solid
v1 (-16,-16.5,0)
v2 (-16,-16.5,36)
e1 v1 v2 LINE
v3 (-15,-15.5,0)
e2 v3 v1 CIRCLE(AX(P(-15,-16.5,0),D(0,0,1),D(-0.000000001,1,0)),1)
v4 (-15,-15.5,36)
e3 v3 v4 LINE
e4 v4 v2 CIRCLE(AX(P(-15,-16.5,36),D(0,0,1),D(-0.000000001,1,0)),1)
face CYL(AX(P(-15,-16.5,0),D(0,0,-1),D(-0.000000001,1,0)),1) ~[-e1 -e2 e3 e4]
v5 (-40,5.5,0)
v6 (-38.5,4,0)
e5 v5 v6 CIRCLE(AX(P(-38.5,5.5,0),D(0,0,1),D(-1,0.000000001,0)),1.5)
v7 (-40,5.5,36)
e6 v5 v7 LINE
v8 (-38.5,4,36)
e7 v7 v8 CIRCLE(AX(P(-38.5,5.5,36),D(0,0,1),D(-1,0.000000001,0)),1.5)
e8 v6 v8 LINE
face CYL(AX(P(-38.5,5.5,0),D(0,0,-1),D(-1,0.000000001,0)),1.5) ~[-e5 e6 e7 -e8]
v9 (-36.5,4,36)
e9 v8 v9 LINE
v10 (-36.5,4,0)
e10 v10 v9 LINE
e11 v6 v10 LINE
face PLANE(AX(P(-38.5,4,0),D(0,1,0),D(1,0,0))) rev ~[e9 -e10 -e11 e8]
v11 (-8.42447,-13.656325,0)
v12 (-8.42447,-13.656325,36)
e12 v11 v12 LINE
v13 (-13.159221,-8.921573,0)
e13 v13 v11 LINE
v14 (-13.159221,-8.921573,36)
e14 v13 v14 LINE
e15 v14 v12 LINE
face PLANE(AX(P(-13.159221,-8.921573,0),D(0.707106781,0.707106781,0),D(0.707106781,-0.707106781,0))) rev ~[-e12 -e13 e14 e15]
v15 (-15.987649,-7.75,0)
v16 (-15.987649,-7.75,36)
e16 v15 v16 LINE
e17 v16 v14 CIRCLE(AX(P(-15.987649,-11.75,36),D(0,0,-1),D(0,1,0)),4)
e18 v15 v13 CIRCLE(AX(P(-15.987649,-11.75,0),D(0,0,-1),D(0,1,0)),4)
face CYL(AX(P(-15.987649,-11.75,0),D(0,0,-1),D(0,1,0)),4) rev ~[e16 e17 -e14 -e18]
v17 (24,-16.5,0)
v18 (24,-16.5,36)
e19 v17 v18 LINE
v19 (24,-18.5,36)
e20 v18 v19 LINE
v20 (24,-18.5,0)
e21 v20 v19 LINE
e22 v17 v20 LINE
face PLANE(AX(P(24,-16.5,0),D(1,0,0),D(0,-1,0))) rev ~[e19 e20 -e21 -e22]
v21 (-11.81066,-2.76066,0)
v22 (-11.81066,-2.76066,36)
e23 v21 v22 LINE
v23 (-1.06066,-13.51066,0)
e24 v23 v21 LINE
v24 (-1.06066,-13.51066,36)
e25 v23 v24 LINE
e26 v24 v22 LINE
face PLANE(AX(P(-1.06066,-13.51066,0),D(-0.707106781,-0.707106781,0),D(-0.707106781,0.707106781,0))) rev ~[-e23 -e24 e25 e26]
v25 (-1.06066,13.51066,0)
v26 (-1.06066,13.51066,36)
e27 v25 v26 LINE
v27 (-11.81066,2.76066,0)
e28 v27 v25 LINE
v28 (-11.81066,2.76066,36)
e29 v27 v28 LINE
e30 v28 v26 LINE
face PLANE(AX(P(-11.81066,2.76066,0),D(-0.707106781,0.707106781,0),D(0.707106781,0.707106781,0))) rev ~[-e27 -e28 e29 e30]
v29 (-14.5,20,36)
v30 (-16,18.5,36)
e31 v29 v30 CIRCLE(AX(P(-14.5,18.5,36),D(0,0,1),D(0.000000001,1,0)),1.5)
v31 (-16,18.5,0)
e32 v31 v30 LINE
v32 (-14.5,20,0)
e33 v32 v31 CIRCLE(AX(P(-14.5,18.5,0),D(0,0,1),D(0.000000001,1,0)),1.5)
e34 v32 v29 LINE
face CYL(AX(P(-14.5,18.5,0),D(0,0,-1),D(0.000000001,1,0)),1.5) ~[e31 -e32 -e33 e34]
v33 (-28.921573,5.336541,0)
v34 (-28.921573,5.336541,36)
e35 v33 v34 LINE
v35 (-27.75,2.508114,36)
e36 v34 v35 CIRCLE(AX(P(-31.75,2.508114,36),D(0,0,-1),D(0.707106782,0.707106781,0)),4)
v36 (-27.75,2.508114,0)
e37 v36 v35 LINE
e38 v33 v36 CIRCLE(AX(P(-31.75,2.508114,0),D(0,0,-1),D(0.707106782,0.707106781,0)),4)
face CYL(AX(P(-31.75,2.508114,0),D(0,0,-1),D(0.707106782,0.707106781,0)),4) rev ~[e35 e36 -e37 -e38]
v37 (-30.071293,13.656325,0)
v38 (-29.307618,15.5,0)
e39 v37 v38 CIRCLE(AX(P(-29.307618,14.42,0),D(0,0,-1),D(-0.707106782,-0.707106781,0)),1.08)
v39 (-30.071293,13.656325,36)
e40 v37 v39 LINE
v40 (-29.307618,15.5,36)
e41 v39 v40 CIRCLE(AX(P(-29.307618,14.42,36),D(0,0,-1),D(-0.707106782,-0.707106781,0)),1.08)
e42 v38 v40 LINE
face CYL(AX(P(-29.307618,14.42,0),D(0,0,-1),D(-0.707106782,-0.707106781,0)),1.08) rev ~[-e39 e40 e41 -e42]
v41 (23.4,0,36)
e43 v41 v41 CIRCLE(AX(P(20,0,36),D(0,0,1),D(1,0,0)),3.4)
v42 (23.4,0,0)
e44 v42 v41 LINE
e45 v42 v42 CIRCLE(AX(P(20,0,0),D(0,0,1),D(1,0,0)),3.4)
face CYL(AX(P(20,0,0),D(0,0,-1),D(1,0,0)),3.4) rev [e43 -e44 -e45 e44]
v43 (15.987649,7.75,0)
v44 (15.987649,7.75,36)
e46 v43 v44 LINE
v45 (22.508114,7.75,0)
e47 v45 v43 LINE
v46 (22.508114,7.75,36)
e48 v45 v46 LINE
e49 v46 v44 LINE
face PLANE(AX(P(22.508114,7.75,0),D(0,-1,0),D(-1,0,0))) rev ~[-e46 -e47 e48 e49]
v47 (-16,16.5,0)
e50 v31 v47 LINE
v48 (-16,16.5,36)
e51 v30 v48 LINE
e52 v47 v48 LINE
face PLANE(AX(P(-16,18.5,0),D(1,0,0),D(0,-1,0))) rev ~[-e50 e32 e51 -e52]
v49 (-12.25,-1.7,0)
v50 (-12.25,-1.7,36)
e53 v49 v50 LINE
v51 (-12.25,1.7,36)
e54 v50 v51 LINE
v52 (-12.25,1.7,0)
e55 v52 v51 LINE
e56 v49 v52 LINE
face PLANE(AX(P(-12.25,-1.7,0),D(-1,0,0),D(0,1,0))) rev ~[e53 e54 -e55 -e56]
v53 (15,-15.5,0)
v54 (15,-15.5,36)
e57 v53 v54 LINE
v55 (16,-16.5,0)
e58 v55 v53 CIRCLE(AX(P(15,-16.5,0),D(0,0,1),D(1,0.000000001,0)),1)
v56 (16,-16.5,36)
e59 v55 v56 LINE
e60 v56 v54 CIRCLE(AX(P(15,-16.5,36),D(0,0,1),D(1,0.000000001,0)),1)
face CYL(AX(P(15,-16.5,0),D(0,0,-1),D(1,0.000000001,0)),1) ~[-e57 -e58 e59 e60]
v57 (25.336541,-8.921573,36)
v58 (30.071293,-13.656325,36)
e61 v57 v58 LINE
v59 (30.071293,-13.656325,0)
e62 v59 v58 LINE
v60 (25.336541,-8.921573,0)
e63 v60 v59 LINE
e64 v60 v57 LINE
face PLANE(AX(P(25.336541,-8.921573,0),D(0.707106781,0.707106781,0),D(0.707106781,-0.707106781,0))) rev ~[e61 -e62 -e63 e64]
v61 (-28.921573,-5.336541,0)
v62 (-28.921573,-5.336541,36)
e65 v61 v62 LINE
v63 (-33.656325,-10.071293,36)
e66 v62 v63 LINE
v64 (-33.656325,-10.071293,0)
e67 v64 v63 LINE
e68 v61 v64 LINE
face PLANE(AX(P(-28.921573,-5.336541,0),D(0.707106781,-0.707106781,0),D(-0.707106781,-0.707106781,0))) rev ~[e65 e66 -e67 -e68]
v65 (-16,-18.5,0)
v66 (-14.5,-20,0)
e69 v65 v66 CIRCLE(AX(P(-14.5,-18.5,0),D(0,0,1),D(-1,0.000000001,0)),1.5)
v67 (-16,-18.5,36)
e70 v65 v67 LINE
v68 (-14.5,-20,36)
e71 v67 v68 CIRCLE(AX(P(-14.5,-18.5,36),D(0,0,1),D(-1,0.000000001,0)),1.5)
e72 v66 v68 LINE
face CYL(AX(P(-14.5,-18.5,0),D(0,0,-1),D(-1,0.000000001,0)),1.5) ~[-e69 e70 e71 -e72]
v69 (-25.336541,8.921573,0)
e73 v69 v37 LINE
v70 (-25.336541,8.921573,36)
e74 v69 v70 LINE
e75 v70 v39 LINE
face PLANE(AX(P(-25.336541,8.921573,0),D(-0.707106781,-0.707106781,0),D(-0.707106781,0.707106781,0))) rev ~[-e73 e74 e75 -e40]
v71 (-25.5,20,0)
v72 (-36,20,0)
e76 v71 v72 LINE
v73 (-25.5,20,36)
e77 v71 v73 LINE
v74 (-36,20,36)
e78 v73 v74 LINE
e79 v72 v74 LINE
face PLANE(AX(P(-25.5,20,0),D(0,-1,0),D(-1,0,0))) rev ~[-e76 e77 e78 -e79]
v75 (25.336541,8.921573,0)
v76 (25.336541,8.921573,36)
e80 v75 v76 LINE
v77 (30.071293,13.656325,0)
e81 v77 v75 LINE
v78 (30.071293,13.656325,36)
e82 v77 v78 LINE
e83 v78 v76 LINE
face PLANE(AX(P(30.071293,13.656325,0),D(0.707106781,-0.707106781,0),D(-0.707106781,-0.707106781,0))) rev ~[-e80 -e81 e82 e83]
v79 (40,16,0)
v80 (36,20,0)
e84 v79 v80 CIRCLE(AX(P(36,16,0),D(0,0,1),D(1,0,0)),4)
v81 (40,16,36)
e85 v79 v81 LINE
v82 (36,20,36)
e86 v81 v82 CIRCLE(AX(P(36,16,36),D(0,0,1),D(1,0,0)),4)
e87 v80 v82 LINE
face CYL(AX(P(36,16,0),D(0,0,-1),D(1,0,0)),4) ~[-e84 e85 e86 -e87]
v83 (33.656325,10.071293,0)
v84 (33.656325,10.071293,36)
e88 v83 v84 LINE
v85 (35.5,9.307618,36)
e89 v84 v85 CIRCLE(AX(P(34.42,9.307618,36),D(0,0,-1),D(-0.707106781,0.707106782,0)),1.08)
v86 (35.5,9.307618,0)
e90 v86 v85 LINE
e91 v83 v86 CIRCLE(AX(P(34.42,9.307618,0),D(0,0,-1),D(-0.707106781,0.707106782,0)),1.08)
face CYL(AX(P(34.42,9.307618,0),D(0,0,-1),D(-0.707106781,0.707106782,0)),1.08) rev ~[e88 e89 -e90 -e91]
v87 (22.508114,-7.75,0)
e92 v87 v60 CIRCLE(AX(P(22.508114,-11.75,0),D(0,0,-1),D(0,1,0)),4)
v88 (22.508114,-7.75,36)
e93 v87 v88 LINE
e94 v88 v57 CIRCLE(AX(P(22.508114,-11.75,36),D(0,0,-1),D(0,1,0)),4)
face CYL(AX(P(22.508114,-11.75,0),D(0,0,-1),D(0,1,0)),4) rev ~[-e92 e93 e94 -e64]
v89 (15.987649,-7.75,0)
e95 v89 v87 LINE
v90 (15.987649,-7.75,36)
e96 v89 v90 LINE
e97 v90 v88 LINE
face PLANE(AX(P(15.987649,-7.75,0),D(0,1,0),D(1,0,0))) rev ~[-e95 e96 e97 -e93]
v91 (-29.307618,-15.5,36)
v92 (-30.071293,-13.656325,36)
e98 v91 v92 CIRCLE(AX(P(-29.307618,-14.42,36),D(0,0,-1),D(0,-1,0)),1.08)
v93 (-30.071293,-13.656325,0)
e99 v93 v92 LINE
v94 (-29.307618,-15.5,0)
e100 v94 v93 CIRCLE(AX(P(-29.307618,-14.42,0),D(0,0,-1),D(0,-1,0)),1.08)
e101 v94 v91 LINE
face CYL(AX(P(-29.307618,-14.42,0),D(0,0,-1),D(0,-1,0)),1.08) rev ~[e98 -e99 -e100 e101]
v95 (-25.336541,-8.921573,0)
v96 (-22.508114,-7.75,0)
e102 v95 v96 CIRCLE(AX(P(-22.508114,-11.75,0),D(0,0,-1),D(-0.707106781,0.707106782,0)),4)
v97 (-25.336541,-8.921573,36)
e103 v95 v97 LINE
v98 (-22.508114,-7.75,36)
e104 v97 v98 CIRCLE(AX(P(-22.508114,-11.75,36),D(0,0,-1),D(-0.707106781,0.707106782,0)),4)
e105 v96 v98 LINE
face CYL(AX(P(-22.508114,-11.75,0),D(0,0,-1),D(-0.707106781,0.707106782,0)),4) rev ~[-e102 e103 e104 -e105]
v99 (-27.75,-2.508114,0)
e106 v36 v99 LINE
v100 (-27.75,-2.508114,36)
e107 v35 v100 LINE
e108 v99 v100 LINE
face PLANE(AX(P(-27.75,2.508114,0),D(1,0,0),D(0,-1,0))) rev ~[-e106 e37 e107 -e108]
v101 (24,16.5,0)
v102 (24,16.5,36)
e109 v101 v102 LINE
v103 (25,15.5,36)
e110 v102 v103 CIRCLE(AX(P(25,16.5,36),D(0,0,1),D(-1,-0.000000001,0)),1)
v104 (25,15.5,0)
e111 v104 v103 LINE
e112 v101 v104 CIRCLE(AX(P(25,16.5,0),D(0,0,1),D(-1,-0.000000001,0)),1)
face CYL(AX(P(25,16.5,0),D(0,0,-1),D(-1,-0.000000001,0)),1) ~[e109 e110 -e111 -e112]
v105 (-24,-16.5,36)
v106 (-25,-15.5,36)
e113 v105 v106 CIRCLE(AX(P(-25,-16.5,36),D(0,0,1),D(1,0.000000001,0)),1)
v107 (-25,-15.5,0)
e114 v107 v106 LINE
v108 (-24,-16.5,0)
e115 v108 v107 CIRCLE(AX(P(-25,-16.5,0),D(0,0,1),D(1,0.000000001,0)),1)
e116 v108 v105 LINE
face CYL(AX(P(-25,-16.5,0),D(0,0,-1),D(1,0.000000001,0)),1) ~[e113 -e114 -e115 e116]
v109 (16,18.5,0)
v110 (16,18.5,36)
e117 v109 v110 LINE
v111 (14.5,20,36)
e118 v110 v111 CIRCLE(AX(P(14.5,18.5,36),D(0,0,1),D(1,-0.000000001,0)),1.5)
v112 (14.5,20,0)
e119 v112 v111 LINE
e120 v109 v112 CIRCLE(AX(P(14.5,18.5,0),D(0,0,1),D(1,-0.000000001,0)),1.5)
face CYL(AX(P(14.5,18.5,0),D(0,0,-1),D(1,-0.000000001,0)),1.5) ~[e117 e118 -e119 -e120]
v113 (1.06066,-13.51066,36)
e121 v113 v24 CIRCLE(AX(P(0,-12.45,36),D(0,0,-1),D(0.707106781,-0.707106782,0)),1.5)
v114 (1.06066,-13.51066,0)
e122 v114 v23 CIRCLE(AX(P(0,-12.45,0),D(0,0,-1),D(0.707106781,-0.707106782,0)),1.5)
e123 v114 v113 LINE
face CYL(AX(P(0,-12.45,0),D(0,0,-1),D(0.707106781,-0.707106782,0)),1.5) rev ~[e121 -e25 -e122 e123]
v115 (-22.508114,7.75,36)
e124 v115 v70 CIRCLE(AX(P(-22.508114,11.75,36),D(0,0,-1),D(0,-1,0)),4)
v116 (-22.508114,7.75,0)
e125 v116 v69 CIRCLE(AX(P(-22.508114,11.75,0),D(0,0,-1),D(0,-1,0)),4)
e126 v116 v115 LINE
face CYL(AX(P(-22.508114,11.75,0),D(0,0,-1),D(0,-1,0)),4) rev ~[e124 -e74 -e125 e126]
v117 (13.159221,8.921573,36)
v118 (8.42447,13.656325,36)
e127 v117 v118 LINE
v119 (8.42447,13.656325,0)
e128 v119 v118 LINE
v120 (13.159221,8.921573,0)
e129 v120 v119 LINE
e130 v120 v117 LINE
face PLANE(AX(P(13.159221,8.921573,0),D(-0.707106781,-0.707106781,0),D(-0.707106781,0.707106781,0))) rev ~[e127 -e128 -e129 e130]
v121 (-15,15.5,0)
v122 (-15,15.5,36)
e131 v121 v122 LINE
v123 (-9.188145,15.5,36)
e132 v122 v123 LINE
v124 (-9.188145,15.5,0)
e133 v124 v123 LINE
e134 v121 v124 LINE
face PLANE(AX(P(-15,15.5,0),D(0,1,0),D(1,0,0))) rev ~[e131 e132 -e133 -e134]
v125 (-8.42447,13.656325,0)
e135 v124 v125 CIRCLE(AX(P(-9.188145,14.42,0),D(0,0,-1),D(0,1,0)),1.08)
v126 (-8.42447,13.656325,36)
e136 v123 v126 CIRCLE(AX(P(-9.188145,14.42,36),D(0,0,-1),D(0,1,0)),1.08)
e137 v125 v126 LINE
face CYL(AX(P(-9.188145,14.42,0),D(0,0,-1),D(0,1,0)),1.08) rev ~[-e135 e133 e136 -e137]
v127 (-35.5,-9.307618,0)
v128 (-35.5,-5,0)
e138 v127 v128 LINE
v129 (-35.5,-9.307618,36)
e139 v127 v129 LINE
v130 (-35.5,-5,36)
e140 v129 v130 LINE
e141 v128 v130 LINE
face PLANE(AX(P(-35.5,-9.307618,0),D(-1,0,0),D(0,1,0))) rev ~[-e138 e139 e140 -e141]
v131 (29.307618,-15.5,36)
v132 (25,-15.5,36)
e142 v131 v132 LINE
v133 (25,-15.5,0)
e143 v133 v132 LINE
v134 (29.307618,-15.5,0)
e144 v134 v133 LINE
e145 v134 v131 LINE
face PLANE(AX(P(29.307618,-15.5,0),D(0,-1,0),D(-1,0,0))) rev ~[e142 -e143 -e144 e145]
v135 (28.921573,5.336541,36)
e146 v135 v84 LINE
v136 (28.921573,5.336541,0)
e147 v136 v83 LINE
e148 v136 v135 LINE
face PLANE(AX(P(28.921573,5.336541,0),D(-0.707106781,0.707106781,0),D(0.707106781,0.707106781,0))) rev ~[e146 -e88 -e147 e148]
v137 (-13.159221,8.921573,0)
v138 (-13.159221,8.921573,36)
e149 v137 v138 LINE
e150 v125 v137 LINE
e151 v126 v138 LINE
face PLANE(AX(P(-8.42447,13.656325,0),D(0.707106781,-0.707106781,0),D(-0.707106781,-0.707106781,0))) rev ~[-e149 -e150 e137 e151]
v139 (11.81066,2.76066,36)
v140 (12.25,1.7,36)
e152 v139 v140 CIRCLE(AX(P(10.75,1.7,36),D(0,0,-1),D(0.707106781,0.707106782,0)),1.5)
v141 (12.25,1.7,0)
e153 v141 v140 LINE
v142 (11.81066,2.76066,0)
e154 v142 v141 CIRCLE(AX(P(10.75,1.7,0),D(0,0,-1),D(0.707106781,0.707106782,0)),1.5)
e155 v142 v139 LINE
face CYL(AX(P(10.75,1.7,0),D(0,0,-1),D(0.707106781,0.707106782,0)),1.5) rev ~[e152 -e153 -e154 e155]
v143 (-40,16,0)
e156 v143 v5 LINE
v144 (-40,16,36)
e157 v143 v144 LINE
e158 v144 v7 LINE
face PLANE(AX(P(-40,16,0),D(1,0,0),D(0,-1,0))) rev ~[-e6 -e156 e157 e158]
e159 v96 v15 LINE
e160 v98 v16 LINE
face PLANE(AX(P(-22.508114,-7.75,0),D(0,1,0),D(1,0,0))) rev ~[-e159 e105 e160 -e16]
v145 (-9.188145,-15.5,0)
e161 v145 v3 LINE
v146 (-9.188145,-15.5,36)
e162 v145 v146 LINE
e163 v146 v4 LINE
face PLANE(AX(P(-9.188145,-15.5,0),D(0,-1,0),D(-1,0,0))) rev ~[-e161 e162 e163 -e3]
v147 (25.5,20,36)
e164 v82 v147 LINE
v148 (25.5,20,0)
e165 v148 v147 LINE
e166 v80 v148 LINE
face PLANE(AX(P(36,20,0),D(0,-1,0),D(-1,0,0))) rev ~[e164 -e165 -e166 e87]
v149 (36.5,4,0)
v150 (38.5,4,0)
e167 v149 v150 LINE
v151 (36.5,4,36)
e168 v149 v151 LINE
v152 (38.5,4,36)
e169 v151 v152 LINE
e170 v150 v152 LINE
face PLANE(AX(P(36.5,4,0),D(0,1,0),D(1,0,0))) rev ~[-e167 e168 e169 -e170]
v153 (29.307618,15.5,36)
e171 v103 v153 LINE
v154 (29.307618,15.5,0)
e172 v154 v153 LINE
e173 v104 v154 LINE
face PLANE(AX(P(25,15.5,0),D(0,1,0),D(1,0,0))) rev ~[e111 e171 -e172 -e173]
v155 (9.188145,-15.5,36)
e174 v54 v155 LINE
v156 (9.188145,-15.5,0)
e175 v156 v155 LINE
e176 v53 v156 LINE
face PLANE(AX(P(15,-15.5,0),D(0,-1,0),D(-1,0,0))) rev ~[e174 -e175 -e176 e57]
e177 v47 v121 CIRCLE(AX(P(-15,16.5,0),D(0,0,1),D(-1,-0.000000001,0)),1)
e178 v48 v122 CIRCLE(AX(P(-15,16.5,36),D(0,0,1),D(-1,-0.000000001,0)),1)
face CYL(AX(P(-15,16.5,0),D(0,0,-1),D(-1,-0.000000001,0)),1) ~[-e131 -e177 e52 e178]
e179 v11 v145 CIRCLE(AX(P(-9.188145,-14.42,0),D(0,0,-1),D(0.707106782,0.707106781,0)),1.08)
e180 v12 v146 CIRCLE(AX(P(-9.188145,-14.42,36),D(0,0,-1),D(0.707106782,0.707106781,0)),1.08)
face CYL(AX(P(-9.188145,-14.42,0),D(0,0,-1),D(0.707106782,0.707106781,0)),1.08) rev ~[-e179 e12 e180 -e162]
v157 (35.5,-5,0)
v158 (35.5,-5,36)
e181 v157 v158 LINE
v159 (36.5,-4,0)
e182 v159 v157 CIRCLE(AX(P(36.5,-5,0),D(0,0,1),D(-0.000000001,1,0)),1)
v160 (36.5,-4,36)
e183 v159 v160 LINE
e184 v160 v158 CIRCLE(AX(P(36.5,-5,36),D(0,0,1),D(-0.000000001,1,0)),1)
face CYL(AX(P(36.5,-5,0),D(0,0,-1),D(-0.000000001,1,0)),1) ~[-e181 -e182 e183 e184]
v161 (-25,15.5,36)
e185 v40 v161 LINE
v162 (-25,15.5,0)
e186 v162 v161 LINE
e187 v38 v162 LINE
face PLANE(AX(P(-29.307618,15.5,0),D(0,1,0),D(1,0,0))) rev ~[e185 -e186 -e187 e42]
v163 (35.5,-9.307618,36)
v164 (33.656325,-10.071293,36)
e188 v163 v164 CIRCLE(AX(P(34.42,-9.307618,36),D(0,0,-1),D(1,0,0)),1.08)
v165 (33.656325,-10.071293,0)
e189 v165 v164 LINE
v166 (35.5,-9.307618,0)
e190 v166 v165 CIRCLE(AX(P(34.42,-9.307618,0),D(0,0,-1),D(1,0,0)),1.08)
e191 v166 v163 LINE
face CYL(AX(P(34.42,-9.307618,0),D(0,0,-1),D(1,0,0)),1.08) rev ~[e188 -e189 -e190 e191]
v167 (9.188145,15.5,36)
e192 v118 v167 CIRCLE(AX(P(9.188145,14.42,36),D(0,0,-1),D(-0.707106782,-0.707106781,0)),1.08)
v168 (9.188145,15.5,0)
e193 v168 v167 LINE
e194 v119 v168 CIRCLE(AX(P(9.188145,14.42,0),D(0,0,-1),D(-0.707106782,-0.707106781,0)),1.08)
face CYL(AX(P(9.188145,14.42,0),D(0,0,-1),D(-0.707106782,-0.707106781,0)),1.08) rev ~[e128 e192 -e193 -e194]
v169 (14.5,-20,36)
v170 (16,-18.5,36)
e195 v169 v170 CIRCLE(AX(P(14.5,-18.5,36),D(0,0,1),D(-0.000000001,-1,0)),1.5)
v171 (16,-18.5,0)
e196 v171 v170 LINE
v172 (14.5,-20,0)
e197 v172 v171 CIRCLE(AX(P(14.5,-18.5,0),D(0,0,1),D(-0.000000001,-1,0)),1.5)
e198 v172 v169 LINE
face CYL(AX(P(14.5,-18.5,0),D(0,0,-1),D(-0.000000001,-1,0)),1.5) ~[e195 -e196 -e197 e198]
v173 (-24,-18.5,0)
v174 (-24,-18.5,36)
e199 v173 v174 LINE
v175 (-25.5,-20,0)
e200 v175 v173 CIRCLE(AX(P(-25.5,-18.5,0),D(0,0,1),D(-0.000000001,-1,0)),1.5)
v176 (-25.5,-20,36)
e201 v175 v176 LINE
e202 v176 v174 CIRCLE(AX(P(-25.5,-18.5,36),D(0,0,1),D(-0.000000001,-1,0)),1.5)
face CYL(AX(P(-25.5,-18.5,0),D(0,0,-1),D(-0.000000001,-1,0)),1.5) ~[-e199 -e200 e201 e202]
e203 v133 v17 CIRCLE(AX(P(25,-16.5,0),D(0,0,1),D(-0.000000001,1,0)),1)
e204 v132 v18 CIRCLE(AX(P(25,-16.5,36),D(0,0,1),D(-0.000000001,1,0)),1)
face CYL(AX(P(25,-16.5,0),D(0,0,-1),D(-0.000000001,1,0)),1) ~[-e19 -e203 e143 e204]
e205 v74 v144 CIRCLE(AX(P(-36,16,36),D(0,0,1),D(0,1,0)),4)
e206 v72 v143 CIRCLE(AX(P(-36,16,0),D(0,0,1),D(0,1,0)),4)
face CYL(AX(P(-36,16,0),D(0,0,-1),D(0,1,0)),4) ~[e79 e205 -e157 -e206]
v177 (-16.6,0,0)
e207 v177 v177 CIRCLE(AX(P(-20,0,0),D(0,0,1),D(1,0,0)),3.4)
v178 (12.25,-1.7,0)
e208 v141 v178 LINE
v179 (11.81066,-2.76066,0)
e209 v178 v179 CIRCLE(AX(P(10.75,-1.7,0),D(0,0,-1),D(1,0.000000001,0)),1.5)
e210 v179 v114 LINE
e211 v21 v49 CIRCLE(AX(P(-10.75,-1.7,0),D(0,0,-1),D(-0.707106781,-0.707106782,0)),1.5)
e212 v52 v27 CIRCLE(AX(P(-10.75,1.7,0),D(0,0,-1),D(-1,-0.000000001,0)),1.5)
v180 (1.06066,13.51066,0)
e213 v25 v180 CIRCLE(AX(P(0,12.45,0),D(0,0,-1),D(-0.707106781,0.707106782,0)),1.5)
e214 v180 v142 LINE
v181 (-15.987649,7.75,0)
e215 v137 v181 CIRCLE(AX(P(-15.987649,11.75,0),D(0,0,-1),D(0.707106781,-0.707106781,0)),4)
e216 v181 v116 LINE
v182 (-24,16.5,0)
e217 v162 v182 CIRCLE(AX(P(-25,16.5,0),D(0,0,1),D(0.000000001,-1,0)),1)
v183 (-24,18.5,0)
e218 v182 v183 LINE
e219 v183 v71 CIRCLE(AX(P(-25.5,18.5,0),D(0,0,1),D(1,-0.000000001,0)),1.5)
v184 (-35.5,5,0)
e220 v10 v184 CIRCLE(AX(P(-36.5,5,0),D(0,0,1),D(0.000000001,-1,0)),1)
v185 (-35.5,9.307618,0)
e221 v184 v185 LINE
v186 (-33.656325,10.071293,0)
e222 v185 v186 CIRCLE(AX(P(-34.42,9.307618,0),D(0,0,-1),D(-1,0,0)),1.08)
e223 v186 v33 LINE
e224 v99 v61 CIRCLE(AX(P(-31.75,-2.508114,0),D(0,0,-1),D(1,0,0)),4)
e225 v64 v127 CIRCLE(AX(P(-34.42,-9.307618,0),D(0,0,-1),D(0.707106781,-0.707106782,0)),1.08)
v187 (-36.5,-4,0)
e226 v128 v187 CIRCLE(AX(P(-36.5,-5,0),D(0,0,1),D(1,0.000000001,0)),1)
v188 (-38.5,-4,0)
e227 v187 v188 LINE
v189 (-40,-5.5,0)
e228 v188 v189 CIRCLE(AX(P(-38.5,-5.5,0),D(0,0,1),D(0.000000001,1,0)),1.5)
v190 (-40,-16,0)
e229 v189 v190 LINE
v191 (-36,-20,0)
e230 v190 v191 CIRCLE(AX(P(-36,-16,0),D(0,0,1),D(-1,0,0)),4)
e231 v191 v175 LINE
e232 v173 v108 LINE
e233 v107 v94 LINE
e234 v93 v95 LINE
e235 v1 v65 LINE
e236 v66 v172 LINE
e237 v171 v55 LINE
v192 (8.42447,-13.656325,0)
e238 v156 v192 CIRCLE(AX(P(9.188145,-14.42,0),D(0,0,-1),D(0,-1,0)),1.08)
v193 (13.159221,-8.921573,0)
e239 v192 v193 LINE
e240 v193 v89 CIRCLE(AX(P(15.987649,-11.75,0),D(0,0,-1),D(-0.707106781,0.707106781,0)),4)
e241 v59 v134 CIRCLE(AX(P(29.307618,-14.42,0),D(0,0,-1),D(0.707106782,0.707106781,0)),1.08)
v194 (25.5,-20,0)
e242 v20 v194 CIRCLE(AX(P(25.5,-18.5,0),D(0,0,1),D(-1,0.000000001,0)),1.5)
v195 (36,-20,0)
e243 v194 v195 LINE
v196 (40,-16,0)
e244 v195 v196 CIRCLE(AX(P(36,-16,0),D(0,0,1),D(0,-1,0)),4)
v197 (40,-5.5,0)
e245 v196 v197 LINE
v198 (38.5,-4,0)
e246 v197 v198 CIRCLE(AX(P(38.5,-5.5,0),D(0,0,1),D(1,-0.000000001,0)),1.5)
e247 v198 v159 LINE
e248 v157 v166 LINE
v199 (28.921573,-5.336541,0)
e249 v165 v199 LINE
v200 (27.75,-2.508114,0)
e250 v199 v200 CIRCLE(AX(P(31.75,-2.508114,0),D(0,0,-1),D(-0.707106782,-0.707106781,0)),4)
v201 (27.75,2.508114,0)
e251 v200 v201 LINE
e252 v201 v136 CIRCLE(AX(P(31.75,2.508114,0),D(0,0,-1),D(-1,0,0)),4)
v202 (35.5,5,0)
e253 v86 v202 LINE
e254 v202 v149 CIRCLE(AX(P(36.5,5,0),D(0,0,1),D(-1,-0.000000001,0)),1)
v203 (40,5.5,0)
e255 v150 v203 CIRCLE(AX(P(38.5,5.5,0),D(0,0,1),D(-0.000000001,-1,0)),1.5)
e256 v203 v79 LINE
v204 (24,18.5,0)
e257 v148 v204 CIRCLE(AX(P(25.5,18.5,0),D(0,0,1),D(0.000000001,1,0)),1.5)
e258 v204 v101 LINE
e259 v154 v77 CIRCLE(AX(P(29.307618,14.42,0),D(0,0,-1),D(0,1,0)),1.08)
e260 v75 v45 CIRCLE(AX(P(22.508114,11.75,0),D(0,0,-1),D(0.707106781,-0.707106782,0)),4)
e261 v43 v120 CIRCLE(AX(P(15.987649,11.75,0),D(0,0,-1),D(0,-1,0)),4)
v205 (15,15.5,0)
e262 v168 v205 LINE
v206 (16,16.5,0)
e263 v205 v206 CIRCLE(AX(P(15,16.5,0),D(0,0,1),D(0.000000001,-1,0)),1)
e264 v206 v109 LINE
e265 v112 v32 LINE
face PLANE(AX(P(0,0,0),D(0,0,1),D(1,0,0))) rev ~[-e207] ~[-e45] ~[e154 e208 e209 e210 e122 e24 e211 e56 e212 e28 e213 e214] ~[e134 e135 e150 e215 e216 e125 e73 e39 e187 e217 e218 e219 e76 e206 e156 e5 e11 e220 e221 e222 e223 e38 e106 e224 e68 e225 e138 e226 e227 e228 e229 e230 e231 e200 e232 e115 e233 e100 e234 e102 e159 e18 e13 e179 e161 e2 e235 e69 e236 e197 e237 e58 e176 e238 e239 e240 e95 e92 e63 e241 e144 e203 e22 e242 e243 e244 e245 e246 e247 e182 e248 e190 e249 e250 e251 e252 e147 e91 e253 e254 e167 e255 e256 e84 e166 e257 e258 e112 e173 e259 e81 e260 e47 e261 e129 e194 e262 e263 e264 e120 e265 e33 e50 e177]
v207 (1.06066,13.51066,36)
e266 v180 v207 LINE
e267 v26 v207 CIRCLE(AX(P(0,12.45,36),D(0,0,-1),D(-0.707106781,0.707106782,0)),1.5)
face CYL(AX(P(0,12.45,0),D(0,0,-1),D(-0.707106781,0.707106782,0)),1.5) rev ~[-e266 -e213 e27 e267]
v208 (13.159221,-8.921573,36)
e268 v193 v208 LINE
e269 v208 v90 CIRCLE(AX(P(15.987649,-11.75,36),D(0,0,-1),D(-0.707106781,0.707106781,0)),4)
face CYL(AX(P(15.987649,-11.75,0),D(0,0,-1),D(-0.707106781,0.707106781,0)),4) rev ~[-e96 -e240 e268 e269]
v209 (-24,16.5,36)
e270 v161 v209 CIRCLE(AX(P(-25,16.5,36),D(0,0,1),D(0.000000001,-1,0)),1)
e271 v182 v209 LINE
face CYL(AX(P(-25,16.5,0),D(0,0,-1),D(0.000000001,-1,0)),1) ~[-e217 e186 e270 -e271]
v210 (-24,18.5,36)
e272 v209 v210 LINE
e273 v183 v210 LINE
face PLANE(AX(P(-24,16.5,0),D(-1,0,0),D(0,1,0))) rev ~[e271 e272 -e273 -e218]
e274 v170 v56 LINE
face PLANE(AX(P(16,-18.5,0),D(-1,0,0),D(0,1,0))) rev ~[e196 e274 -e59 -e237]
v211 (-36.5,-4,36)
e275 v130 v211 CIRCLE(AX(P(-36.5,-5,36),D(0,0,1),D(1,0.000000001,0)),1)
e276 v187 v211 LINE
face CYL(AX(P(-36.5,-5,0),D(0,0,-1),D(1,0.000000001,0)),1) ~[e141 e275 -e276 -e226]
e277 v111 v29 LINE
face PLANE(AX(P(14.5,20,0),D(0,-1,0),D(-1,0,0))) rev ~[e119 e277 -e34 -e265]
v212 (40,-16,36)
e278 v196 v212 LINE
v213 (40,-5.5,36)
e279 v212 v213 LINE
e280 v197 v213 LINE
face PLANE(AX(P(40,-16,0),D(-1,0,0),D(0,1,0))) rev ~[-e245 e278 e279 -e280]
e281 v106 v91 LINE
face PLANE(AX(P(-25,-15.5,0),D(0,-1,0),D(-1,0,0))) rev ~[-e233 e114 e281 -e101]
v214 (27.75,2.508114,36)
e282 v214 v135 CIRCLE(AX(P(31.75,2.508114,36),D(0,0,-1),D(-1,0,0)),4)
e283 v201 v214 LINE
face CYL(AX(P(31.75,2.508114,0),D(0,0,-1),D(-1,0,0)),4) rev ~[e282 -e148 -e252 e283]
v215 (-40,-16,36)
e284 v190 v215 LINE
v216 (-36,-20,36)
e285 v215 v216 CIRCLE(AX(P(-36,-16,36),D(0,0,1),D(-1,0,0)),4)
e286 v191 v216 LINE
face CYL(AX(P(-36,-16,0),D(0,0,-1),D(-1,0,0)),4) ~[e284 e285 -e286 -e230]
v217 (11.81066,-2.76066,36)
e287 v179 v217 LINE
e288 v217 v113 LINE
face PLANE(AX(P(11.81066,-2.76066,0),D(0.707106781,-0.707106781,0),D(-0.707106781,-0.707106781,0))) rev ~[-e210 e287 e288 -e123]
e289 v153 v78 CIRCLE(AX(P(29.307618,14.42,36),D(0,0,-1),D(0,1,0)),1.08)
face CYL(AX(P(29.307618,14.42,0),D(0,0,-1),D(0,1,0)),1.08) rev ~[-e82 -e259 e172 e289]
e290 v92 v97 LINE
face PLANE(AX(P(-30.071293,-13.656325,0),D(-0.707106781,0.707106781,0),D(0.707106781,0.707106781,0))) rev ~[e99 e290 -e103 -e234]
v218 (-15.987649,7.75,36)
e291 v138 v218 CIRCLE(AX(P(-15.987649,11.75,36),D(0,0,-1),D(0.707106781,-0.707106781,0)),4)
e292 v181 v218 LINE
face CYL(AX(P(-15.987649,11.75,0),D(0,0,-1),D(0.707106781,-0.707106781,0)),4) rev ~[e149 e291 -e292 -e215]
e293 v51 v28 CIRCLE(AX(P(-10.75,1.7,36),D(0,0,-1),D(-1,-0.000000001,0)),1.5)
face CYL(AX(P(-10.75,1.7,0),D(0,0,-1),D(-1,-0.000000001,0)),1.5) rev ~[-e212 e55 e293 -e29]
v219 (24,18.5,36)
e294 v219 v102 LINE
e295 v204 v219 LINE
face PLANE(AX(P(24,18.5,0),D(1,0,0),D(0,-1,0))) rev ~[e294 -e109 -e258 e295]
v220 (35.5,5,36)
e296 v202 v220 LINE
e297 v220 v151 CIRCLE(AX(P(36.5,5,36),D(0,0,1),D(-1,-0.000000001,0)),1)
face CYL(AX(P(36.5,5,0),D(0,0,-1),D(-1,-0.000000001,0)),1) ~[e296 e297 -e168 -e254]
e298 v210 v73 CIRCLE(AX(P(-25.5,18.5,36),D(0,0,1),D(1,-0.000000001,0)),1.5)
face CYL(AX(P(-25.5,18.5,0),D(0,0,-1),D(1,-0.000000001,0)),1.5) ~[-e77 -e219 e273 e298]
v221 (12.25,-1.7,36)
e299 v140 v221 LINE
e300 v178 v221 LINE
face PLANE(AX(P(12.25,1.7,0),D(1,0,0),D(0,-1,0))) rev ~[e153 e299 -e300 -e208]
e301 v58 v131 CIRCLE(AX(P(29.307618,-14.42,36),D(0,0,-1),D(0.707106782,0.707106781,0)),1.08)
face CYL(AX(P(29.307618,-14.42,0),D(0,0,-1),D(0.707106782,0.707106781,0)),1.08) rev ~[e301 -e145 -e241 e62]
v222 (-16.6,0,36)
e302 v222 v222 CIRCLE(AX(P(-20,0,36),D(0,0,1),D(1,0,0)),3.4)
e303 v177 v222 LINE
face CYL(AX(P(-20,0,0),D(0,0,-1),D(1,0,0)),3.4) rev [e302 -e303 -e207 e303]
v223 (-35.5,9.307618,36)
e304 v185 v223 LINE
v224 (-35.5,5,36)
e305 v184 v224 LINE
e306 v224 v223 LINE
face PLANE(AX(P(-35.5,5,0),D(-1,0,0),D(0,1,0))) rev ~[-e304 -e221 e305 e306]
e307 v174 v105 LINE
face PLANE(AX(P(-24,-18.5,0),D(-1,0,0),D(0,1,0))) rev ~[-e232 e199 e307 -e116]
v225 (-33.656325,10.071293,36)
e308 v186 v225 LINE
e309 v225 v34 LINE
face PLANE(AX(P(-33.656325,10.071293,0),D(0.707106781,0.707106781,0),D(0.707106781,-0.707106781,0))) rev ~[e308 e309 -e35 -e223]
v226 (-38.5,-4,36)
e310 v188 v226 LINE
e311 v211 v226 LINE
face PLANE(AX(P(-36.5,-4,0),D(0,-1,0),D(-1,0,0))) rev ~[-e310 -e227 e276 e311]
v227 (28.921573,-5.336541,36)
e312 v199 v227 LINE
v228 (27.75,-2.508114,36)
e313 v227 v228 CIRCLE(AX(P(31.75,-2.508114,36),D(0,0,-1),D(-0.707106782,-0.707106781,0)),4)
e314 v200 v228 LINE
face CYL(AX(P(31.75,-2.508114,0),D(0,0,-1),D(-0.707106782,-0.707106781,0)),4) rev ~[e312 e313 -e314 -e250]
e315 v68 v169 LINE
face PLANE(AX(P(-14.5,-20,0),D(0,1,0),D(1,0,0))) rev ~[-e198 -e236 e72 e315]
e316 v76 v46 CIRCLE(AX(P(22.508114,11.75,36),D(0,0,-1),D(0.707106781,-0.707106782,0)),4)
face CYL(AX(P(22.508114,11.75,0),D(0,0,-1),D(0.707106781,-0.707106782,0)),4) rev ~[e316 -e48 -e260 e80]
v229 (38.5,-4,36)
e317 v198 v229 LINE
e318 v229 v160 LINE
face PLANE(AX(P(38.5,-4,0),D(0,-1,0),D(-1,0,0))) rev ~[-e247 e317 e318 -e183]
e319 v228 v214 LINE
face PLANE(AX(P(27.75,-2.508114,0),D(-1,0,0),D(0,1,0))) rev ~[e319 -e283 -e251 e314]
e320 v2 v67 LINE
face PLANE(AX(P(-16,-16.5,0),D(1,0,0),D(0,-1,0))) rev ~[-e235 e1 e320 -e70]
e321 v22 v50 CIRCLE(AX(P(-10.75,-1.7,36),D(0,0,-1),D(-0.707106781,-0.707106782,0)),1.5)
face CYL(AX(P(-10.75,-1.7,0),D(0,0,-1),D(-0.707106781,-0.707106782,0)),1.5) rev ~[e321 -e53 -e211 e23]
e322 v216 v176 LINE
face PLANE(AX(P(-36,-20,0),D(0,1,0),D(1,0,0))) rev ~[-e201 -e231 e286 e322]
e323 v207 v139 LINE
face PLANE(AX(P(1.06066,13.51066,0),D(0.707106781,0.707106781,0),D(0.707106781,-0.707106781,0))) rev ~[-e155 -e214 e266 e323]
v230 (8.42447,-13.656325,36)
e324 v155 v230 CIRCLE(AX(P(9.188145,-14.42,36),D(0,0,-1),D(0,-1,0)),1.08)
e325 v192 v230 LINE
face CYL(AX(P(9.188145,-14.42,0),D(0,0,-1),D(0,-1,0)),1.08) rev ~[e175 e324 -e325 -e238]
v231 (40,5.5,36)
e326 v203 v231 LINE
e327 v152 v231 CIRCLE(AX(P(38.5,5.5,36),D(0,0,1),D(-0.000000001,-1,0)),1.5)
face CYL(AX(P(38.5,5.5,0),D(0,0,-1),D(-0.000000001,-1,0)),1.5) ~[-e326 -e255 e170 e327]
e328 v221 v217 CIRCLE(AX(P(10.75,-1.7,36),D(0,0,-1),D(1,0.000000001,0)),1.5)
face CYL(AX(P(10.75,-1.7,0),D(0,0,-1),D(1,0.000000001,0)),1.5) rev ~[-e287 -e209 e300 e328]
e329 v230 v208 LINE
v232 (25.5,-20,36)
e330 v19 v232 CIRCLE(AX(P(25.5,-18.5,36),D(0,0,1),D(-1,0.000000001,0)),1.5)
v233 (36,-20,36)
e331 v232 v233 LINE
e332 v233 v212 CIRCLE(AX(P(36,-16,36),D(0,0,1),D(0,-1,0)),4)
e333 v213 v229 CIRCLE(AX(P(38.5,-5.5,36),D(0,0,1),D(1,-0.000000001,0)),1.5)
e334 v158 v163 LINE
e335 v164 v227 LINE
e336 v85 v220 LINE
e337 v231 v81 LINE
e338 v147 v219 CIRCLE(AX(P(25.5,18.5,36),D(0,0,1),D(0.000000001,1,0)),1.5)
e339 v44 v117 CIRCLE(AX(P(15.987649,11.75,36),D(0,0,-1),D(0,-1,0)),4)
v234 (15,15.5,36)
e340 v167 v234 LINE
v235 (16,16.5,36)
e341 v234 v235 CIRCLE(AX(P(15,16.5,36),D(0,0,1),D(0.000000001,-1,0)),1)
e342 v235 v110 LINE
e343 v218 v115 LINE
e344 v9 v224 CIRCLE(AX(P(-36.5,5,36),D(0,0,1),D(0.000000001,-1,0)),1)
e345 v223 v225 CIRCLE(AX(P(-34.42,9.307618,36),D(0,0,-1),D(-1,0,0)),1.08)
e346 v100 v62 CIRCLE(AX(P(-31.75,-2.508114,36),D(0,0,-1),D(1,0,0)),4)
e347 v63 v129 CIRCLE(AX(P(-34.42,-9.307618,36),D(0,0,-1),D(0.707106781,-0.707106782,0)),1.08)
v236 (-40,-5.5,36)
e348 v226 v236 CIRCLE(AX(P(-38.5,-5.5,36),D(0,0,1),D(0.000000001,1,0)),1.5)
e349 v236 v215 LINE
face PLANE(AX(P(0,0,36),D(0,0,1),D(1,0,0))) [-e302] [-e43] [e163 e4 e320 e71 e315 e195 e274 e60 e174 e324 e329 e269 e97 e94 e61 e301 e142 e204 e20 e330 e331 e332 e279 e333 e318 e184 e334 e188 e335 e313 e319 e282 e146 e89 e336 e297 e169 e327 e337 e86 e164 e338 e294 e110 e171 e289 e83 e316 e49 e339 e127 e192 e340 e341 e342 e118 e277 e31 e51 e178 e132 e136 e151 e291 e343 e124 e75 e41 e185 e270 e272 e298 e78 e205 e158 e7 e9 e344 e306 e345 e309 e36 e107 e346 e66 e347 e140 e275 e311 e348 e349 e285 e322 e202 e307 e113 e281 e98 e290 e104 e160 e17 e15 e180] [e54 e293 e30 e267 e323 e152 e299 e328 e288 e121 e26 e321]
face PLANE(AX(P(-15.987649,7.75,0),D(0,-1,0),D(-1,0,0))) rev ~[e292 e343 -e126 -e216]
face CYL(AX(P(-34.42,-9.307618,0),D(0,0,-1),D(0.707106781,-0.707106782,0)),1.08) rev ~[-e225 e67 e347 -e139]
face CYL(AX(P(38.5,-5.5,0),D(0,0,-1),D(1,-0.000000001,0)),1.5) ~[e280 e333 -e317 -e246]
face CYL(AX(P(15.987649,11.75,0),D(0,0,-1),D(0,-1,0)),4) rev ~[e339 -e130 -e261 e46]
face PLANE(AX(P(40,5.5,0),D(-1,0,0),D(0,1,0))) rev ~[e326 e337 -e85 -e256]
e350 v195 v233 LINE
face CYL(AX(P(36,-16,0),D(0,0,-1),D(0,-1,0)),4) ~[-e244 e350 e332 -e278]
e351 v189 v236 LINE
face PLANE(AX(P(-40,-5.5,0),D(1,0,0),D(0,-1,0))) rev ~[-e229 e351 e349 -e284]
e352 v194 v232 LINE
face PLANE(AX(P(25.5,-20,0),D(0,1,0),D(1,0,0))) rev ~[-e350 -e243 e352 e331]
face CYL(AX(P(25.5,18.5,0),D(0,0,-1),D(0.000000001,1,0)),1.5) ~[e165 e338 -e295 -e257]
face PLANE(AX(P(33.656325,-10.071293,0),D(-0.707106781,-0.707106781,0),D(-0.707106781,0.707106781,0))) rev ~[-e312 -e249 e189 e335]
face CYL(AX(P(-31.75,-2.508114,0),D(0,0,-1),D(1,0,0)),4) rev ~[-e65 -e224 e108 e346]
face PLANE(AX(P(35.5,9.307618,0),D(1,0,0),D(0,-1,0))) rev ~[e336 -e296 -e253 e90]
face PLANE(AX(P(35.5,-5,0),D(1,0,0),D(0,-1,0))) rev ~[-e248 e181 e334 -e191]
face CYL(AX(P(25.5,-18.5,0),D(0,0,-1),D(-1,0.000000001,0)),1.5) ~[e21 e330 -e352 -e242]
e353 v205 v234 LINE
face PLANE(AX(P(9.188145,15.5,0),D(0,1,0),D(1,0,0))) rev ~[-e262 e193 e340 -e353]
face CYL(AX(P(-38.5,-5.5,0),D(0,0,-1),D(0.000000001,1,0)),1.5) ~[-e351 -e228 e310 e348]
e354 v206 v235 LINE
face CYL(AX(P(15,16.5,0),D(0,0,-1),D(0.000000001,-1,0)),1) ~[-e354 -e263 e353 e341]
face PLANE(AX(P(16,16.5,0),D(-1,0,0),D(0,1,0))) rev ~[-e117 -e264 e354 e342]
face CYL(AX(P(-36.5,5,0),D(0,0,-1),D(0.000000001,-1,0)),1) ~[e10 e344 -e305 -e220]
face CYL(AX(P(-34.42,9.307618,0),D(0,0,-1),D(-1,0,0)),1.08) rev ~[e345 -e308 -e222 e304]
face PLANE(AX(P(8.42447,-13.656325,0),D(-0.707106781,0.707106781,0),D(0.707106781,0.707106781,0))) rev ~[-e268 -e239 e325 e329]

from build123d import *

# Parameters (mm, degrees)
SKETCH1_R           = 3.4
BOSS_EXTRUDE1_DEPTH = 36


with BuildPart() as part:
    # Sketch1 → Boss-Extrude1 (new body)
    with BuildSketch(Plane.XY):
        with BuildLine():
            Line((-36, -20), (-25.5, -20))
            ThreePointArc((-25.5, -20), (-24.439339828, -19.560660172), (-24, -18.5))
            Line((-24, -18.5), (-24, -16.5))
            ThreePointArc((-24, -16.5), (-24.292893219, -15.792893219), (-25, -15.5))
            Line((-25, -15.5), (-29.307617972, -15.5))
            ThreePointArc((-29.307617972, -15.5), (-30.305407867, -14.833298107), (-30.071293296, -13.656324676))
            Line((-30.071293296, -13.656324676), (-25.336541495, -8.921572875))
            ThreePointArc((-25.336541495, -8.921572875), (-24.038848099, -8.05448187), (-22.50811437, -7.75))
            Line((-22.50811437, -7.75), (-15.987648609, -7.75))
            ThreePointArc((-15.987648609, -7.75), (-14.45691488, -8.05448187), (-13.159221485, -8.921572875))
            Line((-13.159221485, -8.921572875), (-8.424469683, -13.656324676))
            ThreePointArc((-8.424469683, -13.656324676), (-8.190355112, -14.833298107), (-9.188145007, -15.5))
            Line((-9.188145007, -15.5), (-15, -15.5))
            ThreePointArc((-15, -15.5), (-15.707106781, -15.792893219), (-16, -16.5))
            Line((-16, -16.5), (-16, -18.5))
            ThreePointArc((-16, -18.5), (-15.560660172, -19.560660172), (-14.5, -20))
            Line((-14.5, -20), (14.5, -20))
            ThreePointArc((14.5, -20), (15.560660172, -19.560660172), (16, -18.5))
            Line((16, -18.5), (16, -16.5))
            ThreePointArc((16, -16.5), (15.707106781, -15.792893219), (15, -15.5))
            Line((15, -15.5), (9.188145007, -15.5))
            ThreePointArc((9.188145007, -15.5), (8.190355112, -14.833298107), (8.424469683, -13.656324676))
            Line((8.424469683, -13.656324676), (13.159221485, -8.921572875))
            ThreePointArc((13.159221485, -8.921572875), (14.45691488, -8.05448187), (15.987648609, -7.75))
            Line((15.987648609, -7.75), (22.50811437, -7.75))
            ThreePointArc((22.50811437, -7.75), (24.038848099, -8.05448187), (25.336541495, -8.921572875))
            Line((25.336541495, -8.921572875), (30.071293296, -13.656324676))
            ThreePointArc((30.071293296, -13.656324676), (30.305407867, -14.833298107), (29.307617972, -15.5))
            Line((29.307617972, -15.5), (25, -15.5))
            ThreePointArc((25, -15.5), (24.292893219, -15.792893219), (24, -16.5))
            Line((24, -16.5), (24, -18.5))
            ThreePointArc((24, -18.5), (24.439339828, -19.560660172), (25.5, -20))
            Line((25.5, -20), (36, -20))
            ThreePointArc((36, -20), (38.828427125, -18.828427125), (40, -16))
            Line((40, -16), (40, -5.5))
            ThreePointArc((40, -5.5), (39.560660172, -4.439339828), (38.5, -4))
            Line((38.5, -4), (36.5, -4))
            ThreePointArc((36.5, -4), (35.792893219, -4.292893219), (35.5, -5))
            Line((35.5, -5), (35.5, -9.307617972))
            ThreePointArc((35.5, -9.307617972), (34.833298107, -10.305407867), (33.656324676, -10.071293296))
            Line((33.656324676, -10.071293296), (28.921572875, -5.336541495))
            ThreePointArc((28.921572875, -5.336541495), (28.05448187, -4.038848099), (27.75, -2.50811437))
            Line((27.75, -2.50811437), (27.75, 2.50811437))
            ThreePointArc((27.75, 2.50811437), (28.05448187, 4.038848099), (28.921572875, 5.336541495))
            Line((28.921572875, 5.336541495), (33.656324676, 10.071293296))
            ThreePointArc((33.656324676, 10.071293296), (34.833298107, 10.305407867), (35.5, 9.307617972))
            Line((35.5, 9.307617972), (35.5, 5))
            ThreePointArc((35.5, 5), (35.792893219, 4.292893219), (36.5, 4))
            Line((36.5, 4), (38.5, 4))
            ThreePointArc((38.5, 4), (39.560660172, 4.439339828), (40, 5.5))
            Line((40, 5.5), (40, 16))
            ThreePointArc((40, 16), (38.828427125, 18.828427125), (36, 20))
            Line((36, 20), (25.5, 20))
            ThreePointArc((25.5, 20), (24.439339828, 19.560660172), (24, 18.5))
            Line((24, 18.5), (24, 16.5))
            ThreePointArc((24, 16.5), (24.292893219, 15.792893219), (25, 15.5))
            Line((25, 15.5), (29.307617972, 15.5))
            ThreePointArc((29.307617972, 15.5), (30.305407867, 14.833298107), (30.071293296, 13.656324676))
            Line((30.071293296, 13.656324676), (25.336541495, 8.921572875))
            ThreePointArc((25.336541495, 8.921572875), (24.038848099, 8.05448187), (22.50811437, 7.75))
            Line((22.50811437, 7.75), (15.987648609, 7.75))
            ThreePointArc((15.987648609, 7.75), (14.45691488, 8.05448187), (13.159221485, 8.921572875))
            Line((13.159221485, 8.921572875), (8.424469683, 13.656324676))
            ThreePointArc((8.424469683, 13.656324676), (8.190355112, 14.833298107), (9.188145007, 15.5))
            Line((9.188145007, 15.5), (15, 15.5))
            ThreePointArc((15, 15.5), (15.707106781, 15.792893219), (16, 16.5))
            Line((16, 16.5), (16, 18.5))
            ThreePointArc((16, 18.5), (15.560660172, 19.560660172), (14.5, 20))
            Line((14.5, 20), (-14.5, 20))
            ThreePointArc((-14.5, 20), (-15.560660172, 19.560660172), (-16, 18.5))
            Line((-16, 18.5), (-16, 16.5))
            ThreePointArc((-16, 16.5), (-15.707106781, 15.792893219), (-15, 15.5))
            Line((-15, 15.5), (-9.188145007, 15.5))
            ThreePointArc((-9.188145007, 15.5), (-8.190355112, 14.833298107), (-8.424469683, 13.656324676))
            Line((-8.424469683, 13.656324676), (-13.159221485, 8.921572875))
            ThreePointArc((-13.159221485, 8.921572875), (-14.45691488, 8.05448187), (-15.987648609, 7.75))
            Line((-15.987648609, 7.75), (-22.50811437, 7.75))
            ThreePointArc((-22.50811437, 7.75), (-24.038848099, 8.05448187), (-25.336541495, 8.921572875))
            Line((-25.336541495, 8.921572875), (-30.071293296, 13.656324676))
            ThreePointArc((-30.071293296, 13.656324676), (-30.305407867, 14.833298107), (-29.307617972, 15.5))
            Line((-29.307617972, 15.5), (-25, 15.5))
            ThreePointArc((-25, 15.5), (-24.292893219, 15.792893219), (-24, 16.5))
            Line((-24, 16.5), (-24, 18.5))
            ThreePointArc((-24, 18.5), (-24.439339828, 19.560660172), (-25.5, 20))
            Line((-25.5, 20), (-36, 20))
            ThreePointArc((-36, 20), (-38.828427125, 18.828427125), (-40, 16))
            Line((-40, 16), (-40, 5.5))
            ThreePointArc((-40, 5.5), (-39.560660172, 4.439339828), (-38.5, 4))
            Line((-38.5, 4), (-36.5, 4))
            ThreePointArc((-36.5, 4), (-35.792893219, 4.292893219), (-35.5, 5))
            Line((-35.5, 5), (-35.5, 9.307617972))
            ThreePointArc((-35.5, 9.307617972), (-34.833298107, 10.305407867), (-33.656324676, 10.071293296))
            Line((-33.656324676, 10.071293296), (-28.921572875, 5.336541495))
            ThreePointArc((-28.921572875, 5.336541495), (-28.05448187, 4.038848099), (-27.75, 2.50811437))
            Line((-27.75, 2.50811437), (-27.75, -2.50811437))
            ThreePointArc((-27.75, -2.50811437), (-28.05448187, -4.038848099), (-28.921572875, -5.336541495))
            Line((-28.921572875, -5.336541495), (-33.656324676, -10.071293296))
            ThreePointArc((-33.656324676, -10.071293296), (-34.833298107, -10.305407867), (-35.5, -9.307617972))
            Line((-35.5, -9.307617972), (-35.5, -5))
            ThreePointArc((-35.5, -5), (-35.792893219, -4.292893219), (-36.5, -4))
            Line((-36.5, -4), (-38.5, -4))
            ThreePointArc((-38.5, -4), (-39.560660172, -4.439339828), (-40, -5.5))
            Line((-40, -5.5), (-40, -16))
            ThreePointArc((-40, -16), (-38.828427125, -18.828427125), (-36, -20))
        make_face()
        with Locations((-20, 0)):
            Circle(SKETCH1_R, mode=Mode.SUBTRACT)
        with Locations((20, 0)):
            Circle(SKETCH1_R, mode=Mode.SUBTRACT)
        with BuildLine():
            Line((-11.810660172, 2.760660172), (-1.060660172, 13.510660172))
            ThreePointArc((-1.060660172, 13.510660172), (0, 13.95), (1.060660172, 13.510660172))
            Line((1.060660172, 13.510660172), (11.810660172, 2.760660172))
            ThreePointArc((11.810660172, 2.760660172), (12.135819299, 2.274025149), (12.25, 1.7))
            Line((12.25, 1.7), (12.25, -1.7))
            ThreePointArc((12.25, -1.7), (12.135819299, -2.274025149), (11.810660172, -2.760660172))
            Line((11.810660172, -2.760660172), (1.060660172, -13.510660172))
            ThreePointArc((1.060660172, -13.510660172), (0, -13.95), (-1.060660172, -13.510660172))
            Line((-1.060660172, -13.510660172), (-11.810660172, -2.760660172))
            ThreePointArc((-11.810660172, -2.760660172), (-12.135819299, -2.274025149), (-12.25, -1.7))
            Line((-12.25, -1.7), (-12.25, 1.7))
            ThreePointArc((-12.25, 1.7), (-12.135819299, 2.274025149), (-11.810660172, 2.760660172))
        make_face(mode=Mode.SUBTRACT)
    extrude(amount=BOSS_EXTRUDE1_DEPTH)


solid = part.part
